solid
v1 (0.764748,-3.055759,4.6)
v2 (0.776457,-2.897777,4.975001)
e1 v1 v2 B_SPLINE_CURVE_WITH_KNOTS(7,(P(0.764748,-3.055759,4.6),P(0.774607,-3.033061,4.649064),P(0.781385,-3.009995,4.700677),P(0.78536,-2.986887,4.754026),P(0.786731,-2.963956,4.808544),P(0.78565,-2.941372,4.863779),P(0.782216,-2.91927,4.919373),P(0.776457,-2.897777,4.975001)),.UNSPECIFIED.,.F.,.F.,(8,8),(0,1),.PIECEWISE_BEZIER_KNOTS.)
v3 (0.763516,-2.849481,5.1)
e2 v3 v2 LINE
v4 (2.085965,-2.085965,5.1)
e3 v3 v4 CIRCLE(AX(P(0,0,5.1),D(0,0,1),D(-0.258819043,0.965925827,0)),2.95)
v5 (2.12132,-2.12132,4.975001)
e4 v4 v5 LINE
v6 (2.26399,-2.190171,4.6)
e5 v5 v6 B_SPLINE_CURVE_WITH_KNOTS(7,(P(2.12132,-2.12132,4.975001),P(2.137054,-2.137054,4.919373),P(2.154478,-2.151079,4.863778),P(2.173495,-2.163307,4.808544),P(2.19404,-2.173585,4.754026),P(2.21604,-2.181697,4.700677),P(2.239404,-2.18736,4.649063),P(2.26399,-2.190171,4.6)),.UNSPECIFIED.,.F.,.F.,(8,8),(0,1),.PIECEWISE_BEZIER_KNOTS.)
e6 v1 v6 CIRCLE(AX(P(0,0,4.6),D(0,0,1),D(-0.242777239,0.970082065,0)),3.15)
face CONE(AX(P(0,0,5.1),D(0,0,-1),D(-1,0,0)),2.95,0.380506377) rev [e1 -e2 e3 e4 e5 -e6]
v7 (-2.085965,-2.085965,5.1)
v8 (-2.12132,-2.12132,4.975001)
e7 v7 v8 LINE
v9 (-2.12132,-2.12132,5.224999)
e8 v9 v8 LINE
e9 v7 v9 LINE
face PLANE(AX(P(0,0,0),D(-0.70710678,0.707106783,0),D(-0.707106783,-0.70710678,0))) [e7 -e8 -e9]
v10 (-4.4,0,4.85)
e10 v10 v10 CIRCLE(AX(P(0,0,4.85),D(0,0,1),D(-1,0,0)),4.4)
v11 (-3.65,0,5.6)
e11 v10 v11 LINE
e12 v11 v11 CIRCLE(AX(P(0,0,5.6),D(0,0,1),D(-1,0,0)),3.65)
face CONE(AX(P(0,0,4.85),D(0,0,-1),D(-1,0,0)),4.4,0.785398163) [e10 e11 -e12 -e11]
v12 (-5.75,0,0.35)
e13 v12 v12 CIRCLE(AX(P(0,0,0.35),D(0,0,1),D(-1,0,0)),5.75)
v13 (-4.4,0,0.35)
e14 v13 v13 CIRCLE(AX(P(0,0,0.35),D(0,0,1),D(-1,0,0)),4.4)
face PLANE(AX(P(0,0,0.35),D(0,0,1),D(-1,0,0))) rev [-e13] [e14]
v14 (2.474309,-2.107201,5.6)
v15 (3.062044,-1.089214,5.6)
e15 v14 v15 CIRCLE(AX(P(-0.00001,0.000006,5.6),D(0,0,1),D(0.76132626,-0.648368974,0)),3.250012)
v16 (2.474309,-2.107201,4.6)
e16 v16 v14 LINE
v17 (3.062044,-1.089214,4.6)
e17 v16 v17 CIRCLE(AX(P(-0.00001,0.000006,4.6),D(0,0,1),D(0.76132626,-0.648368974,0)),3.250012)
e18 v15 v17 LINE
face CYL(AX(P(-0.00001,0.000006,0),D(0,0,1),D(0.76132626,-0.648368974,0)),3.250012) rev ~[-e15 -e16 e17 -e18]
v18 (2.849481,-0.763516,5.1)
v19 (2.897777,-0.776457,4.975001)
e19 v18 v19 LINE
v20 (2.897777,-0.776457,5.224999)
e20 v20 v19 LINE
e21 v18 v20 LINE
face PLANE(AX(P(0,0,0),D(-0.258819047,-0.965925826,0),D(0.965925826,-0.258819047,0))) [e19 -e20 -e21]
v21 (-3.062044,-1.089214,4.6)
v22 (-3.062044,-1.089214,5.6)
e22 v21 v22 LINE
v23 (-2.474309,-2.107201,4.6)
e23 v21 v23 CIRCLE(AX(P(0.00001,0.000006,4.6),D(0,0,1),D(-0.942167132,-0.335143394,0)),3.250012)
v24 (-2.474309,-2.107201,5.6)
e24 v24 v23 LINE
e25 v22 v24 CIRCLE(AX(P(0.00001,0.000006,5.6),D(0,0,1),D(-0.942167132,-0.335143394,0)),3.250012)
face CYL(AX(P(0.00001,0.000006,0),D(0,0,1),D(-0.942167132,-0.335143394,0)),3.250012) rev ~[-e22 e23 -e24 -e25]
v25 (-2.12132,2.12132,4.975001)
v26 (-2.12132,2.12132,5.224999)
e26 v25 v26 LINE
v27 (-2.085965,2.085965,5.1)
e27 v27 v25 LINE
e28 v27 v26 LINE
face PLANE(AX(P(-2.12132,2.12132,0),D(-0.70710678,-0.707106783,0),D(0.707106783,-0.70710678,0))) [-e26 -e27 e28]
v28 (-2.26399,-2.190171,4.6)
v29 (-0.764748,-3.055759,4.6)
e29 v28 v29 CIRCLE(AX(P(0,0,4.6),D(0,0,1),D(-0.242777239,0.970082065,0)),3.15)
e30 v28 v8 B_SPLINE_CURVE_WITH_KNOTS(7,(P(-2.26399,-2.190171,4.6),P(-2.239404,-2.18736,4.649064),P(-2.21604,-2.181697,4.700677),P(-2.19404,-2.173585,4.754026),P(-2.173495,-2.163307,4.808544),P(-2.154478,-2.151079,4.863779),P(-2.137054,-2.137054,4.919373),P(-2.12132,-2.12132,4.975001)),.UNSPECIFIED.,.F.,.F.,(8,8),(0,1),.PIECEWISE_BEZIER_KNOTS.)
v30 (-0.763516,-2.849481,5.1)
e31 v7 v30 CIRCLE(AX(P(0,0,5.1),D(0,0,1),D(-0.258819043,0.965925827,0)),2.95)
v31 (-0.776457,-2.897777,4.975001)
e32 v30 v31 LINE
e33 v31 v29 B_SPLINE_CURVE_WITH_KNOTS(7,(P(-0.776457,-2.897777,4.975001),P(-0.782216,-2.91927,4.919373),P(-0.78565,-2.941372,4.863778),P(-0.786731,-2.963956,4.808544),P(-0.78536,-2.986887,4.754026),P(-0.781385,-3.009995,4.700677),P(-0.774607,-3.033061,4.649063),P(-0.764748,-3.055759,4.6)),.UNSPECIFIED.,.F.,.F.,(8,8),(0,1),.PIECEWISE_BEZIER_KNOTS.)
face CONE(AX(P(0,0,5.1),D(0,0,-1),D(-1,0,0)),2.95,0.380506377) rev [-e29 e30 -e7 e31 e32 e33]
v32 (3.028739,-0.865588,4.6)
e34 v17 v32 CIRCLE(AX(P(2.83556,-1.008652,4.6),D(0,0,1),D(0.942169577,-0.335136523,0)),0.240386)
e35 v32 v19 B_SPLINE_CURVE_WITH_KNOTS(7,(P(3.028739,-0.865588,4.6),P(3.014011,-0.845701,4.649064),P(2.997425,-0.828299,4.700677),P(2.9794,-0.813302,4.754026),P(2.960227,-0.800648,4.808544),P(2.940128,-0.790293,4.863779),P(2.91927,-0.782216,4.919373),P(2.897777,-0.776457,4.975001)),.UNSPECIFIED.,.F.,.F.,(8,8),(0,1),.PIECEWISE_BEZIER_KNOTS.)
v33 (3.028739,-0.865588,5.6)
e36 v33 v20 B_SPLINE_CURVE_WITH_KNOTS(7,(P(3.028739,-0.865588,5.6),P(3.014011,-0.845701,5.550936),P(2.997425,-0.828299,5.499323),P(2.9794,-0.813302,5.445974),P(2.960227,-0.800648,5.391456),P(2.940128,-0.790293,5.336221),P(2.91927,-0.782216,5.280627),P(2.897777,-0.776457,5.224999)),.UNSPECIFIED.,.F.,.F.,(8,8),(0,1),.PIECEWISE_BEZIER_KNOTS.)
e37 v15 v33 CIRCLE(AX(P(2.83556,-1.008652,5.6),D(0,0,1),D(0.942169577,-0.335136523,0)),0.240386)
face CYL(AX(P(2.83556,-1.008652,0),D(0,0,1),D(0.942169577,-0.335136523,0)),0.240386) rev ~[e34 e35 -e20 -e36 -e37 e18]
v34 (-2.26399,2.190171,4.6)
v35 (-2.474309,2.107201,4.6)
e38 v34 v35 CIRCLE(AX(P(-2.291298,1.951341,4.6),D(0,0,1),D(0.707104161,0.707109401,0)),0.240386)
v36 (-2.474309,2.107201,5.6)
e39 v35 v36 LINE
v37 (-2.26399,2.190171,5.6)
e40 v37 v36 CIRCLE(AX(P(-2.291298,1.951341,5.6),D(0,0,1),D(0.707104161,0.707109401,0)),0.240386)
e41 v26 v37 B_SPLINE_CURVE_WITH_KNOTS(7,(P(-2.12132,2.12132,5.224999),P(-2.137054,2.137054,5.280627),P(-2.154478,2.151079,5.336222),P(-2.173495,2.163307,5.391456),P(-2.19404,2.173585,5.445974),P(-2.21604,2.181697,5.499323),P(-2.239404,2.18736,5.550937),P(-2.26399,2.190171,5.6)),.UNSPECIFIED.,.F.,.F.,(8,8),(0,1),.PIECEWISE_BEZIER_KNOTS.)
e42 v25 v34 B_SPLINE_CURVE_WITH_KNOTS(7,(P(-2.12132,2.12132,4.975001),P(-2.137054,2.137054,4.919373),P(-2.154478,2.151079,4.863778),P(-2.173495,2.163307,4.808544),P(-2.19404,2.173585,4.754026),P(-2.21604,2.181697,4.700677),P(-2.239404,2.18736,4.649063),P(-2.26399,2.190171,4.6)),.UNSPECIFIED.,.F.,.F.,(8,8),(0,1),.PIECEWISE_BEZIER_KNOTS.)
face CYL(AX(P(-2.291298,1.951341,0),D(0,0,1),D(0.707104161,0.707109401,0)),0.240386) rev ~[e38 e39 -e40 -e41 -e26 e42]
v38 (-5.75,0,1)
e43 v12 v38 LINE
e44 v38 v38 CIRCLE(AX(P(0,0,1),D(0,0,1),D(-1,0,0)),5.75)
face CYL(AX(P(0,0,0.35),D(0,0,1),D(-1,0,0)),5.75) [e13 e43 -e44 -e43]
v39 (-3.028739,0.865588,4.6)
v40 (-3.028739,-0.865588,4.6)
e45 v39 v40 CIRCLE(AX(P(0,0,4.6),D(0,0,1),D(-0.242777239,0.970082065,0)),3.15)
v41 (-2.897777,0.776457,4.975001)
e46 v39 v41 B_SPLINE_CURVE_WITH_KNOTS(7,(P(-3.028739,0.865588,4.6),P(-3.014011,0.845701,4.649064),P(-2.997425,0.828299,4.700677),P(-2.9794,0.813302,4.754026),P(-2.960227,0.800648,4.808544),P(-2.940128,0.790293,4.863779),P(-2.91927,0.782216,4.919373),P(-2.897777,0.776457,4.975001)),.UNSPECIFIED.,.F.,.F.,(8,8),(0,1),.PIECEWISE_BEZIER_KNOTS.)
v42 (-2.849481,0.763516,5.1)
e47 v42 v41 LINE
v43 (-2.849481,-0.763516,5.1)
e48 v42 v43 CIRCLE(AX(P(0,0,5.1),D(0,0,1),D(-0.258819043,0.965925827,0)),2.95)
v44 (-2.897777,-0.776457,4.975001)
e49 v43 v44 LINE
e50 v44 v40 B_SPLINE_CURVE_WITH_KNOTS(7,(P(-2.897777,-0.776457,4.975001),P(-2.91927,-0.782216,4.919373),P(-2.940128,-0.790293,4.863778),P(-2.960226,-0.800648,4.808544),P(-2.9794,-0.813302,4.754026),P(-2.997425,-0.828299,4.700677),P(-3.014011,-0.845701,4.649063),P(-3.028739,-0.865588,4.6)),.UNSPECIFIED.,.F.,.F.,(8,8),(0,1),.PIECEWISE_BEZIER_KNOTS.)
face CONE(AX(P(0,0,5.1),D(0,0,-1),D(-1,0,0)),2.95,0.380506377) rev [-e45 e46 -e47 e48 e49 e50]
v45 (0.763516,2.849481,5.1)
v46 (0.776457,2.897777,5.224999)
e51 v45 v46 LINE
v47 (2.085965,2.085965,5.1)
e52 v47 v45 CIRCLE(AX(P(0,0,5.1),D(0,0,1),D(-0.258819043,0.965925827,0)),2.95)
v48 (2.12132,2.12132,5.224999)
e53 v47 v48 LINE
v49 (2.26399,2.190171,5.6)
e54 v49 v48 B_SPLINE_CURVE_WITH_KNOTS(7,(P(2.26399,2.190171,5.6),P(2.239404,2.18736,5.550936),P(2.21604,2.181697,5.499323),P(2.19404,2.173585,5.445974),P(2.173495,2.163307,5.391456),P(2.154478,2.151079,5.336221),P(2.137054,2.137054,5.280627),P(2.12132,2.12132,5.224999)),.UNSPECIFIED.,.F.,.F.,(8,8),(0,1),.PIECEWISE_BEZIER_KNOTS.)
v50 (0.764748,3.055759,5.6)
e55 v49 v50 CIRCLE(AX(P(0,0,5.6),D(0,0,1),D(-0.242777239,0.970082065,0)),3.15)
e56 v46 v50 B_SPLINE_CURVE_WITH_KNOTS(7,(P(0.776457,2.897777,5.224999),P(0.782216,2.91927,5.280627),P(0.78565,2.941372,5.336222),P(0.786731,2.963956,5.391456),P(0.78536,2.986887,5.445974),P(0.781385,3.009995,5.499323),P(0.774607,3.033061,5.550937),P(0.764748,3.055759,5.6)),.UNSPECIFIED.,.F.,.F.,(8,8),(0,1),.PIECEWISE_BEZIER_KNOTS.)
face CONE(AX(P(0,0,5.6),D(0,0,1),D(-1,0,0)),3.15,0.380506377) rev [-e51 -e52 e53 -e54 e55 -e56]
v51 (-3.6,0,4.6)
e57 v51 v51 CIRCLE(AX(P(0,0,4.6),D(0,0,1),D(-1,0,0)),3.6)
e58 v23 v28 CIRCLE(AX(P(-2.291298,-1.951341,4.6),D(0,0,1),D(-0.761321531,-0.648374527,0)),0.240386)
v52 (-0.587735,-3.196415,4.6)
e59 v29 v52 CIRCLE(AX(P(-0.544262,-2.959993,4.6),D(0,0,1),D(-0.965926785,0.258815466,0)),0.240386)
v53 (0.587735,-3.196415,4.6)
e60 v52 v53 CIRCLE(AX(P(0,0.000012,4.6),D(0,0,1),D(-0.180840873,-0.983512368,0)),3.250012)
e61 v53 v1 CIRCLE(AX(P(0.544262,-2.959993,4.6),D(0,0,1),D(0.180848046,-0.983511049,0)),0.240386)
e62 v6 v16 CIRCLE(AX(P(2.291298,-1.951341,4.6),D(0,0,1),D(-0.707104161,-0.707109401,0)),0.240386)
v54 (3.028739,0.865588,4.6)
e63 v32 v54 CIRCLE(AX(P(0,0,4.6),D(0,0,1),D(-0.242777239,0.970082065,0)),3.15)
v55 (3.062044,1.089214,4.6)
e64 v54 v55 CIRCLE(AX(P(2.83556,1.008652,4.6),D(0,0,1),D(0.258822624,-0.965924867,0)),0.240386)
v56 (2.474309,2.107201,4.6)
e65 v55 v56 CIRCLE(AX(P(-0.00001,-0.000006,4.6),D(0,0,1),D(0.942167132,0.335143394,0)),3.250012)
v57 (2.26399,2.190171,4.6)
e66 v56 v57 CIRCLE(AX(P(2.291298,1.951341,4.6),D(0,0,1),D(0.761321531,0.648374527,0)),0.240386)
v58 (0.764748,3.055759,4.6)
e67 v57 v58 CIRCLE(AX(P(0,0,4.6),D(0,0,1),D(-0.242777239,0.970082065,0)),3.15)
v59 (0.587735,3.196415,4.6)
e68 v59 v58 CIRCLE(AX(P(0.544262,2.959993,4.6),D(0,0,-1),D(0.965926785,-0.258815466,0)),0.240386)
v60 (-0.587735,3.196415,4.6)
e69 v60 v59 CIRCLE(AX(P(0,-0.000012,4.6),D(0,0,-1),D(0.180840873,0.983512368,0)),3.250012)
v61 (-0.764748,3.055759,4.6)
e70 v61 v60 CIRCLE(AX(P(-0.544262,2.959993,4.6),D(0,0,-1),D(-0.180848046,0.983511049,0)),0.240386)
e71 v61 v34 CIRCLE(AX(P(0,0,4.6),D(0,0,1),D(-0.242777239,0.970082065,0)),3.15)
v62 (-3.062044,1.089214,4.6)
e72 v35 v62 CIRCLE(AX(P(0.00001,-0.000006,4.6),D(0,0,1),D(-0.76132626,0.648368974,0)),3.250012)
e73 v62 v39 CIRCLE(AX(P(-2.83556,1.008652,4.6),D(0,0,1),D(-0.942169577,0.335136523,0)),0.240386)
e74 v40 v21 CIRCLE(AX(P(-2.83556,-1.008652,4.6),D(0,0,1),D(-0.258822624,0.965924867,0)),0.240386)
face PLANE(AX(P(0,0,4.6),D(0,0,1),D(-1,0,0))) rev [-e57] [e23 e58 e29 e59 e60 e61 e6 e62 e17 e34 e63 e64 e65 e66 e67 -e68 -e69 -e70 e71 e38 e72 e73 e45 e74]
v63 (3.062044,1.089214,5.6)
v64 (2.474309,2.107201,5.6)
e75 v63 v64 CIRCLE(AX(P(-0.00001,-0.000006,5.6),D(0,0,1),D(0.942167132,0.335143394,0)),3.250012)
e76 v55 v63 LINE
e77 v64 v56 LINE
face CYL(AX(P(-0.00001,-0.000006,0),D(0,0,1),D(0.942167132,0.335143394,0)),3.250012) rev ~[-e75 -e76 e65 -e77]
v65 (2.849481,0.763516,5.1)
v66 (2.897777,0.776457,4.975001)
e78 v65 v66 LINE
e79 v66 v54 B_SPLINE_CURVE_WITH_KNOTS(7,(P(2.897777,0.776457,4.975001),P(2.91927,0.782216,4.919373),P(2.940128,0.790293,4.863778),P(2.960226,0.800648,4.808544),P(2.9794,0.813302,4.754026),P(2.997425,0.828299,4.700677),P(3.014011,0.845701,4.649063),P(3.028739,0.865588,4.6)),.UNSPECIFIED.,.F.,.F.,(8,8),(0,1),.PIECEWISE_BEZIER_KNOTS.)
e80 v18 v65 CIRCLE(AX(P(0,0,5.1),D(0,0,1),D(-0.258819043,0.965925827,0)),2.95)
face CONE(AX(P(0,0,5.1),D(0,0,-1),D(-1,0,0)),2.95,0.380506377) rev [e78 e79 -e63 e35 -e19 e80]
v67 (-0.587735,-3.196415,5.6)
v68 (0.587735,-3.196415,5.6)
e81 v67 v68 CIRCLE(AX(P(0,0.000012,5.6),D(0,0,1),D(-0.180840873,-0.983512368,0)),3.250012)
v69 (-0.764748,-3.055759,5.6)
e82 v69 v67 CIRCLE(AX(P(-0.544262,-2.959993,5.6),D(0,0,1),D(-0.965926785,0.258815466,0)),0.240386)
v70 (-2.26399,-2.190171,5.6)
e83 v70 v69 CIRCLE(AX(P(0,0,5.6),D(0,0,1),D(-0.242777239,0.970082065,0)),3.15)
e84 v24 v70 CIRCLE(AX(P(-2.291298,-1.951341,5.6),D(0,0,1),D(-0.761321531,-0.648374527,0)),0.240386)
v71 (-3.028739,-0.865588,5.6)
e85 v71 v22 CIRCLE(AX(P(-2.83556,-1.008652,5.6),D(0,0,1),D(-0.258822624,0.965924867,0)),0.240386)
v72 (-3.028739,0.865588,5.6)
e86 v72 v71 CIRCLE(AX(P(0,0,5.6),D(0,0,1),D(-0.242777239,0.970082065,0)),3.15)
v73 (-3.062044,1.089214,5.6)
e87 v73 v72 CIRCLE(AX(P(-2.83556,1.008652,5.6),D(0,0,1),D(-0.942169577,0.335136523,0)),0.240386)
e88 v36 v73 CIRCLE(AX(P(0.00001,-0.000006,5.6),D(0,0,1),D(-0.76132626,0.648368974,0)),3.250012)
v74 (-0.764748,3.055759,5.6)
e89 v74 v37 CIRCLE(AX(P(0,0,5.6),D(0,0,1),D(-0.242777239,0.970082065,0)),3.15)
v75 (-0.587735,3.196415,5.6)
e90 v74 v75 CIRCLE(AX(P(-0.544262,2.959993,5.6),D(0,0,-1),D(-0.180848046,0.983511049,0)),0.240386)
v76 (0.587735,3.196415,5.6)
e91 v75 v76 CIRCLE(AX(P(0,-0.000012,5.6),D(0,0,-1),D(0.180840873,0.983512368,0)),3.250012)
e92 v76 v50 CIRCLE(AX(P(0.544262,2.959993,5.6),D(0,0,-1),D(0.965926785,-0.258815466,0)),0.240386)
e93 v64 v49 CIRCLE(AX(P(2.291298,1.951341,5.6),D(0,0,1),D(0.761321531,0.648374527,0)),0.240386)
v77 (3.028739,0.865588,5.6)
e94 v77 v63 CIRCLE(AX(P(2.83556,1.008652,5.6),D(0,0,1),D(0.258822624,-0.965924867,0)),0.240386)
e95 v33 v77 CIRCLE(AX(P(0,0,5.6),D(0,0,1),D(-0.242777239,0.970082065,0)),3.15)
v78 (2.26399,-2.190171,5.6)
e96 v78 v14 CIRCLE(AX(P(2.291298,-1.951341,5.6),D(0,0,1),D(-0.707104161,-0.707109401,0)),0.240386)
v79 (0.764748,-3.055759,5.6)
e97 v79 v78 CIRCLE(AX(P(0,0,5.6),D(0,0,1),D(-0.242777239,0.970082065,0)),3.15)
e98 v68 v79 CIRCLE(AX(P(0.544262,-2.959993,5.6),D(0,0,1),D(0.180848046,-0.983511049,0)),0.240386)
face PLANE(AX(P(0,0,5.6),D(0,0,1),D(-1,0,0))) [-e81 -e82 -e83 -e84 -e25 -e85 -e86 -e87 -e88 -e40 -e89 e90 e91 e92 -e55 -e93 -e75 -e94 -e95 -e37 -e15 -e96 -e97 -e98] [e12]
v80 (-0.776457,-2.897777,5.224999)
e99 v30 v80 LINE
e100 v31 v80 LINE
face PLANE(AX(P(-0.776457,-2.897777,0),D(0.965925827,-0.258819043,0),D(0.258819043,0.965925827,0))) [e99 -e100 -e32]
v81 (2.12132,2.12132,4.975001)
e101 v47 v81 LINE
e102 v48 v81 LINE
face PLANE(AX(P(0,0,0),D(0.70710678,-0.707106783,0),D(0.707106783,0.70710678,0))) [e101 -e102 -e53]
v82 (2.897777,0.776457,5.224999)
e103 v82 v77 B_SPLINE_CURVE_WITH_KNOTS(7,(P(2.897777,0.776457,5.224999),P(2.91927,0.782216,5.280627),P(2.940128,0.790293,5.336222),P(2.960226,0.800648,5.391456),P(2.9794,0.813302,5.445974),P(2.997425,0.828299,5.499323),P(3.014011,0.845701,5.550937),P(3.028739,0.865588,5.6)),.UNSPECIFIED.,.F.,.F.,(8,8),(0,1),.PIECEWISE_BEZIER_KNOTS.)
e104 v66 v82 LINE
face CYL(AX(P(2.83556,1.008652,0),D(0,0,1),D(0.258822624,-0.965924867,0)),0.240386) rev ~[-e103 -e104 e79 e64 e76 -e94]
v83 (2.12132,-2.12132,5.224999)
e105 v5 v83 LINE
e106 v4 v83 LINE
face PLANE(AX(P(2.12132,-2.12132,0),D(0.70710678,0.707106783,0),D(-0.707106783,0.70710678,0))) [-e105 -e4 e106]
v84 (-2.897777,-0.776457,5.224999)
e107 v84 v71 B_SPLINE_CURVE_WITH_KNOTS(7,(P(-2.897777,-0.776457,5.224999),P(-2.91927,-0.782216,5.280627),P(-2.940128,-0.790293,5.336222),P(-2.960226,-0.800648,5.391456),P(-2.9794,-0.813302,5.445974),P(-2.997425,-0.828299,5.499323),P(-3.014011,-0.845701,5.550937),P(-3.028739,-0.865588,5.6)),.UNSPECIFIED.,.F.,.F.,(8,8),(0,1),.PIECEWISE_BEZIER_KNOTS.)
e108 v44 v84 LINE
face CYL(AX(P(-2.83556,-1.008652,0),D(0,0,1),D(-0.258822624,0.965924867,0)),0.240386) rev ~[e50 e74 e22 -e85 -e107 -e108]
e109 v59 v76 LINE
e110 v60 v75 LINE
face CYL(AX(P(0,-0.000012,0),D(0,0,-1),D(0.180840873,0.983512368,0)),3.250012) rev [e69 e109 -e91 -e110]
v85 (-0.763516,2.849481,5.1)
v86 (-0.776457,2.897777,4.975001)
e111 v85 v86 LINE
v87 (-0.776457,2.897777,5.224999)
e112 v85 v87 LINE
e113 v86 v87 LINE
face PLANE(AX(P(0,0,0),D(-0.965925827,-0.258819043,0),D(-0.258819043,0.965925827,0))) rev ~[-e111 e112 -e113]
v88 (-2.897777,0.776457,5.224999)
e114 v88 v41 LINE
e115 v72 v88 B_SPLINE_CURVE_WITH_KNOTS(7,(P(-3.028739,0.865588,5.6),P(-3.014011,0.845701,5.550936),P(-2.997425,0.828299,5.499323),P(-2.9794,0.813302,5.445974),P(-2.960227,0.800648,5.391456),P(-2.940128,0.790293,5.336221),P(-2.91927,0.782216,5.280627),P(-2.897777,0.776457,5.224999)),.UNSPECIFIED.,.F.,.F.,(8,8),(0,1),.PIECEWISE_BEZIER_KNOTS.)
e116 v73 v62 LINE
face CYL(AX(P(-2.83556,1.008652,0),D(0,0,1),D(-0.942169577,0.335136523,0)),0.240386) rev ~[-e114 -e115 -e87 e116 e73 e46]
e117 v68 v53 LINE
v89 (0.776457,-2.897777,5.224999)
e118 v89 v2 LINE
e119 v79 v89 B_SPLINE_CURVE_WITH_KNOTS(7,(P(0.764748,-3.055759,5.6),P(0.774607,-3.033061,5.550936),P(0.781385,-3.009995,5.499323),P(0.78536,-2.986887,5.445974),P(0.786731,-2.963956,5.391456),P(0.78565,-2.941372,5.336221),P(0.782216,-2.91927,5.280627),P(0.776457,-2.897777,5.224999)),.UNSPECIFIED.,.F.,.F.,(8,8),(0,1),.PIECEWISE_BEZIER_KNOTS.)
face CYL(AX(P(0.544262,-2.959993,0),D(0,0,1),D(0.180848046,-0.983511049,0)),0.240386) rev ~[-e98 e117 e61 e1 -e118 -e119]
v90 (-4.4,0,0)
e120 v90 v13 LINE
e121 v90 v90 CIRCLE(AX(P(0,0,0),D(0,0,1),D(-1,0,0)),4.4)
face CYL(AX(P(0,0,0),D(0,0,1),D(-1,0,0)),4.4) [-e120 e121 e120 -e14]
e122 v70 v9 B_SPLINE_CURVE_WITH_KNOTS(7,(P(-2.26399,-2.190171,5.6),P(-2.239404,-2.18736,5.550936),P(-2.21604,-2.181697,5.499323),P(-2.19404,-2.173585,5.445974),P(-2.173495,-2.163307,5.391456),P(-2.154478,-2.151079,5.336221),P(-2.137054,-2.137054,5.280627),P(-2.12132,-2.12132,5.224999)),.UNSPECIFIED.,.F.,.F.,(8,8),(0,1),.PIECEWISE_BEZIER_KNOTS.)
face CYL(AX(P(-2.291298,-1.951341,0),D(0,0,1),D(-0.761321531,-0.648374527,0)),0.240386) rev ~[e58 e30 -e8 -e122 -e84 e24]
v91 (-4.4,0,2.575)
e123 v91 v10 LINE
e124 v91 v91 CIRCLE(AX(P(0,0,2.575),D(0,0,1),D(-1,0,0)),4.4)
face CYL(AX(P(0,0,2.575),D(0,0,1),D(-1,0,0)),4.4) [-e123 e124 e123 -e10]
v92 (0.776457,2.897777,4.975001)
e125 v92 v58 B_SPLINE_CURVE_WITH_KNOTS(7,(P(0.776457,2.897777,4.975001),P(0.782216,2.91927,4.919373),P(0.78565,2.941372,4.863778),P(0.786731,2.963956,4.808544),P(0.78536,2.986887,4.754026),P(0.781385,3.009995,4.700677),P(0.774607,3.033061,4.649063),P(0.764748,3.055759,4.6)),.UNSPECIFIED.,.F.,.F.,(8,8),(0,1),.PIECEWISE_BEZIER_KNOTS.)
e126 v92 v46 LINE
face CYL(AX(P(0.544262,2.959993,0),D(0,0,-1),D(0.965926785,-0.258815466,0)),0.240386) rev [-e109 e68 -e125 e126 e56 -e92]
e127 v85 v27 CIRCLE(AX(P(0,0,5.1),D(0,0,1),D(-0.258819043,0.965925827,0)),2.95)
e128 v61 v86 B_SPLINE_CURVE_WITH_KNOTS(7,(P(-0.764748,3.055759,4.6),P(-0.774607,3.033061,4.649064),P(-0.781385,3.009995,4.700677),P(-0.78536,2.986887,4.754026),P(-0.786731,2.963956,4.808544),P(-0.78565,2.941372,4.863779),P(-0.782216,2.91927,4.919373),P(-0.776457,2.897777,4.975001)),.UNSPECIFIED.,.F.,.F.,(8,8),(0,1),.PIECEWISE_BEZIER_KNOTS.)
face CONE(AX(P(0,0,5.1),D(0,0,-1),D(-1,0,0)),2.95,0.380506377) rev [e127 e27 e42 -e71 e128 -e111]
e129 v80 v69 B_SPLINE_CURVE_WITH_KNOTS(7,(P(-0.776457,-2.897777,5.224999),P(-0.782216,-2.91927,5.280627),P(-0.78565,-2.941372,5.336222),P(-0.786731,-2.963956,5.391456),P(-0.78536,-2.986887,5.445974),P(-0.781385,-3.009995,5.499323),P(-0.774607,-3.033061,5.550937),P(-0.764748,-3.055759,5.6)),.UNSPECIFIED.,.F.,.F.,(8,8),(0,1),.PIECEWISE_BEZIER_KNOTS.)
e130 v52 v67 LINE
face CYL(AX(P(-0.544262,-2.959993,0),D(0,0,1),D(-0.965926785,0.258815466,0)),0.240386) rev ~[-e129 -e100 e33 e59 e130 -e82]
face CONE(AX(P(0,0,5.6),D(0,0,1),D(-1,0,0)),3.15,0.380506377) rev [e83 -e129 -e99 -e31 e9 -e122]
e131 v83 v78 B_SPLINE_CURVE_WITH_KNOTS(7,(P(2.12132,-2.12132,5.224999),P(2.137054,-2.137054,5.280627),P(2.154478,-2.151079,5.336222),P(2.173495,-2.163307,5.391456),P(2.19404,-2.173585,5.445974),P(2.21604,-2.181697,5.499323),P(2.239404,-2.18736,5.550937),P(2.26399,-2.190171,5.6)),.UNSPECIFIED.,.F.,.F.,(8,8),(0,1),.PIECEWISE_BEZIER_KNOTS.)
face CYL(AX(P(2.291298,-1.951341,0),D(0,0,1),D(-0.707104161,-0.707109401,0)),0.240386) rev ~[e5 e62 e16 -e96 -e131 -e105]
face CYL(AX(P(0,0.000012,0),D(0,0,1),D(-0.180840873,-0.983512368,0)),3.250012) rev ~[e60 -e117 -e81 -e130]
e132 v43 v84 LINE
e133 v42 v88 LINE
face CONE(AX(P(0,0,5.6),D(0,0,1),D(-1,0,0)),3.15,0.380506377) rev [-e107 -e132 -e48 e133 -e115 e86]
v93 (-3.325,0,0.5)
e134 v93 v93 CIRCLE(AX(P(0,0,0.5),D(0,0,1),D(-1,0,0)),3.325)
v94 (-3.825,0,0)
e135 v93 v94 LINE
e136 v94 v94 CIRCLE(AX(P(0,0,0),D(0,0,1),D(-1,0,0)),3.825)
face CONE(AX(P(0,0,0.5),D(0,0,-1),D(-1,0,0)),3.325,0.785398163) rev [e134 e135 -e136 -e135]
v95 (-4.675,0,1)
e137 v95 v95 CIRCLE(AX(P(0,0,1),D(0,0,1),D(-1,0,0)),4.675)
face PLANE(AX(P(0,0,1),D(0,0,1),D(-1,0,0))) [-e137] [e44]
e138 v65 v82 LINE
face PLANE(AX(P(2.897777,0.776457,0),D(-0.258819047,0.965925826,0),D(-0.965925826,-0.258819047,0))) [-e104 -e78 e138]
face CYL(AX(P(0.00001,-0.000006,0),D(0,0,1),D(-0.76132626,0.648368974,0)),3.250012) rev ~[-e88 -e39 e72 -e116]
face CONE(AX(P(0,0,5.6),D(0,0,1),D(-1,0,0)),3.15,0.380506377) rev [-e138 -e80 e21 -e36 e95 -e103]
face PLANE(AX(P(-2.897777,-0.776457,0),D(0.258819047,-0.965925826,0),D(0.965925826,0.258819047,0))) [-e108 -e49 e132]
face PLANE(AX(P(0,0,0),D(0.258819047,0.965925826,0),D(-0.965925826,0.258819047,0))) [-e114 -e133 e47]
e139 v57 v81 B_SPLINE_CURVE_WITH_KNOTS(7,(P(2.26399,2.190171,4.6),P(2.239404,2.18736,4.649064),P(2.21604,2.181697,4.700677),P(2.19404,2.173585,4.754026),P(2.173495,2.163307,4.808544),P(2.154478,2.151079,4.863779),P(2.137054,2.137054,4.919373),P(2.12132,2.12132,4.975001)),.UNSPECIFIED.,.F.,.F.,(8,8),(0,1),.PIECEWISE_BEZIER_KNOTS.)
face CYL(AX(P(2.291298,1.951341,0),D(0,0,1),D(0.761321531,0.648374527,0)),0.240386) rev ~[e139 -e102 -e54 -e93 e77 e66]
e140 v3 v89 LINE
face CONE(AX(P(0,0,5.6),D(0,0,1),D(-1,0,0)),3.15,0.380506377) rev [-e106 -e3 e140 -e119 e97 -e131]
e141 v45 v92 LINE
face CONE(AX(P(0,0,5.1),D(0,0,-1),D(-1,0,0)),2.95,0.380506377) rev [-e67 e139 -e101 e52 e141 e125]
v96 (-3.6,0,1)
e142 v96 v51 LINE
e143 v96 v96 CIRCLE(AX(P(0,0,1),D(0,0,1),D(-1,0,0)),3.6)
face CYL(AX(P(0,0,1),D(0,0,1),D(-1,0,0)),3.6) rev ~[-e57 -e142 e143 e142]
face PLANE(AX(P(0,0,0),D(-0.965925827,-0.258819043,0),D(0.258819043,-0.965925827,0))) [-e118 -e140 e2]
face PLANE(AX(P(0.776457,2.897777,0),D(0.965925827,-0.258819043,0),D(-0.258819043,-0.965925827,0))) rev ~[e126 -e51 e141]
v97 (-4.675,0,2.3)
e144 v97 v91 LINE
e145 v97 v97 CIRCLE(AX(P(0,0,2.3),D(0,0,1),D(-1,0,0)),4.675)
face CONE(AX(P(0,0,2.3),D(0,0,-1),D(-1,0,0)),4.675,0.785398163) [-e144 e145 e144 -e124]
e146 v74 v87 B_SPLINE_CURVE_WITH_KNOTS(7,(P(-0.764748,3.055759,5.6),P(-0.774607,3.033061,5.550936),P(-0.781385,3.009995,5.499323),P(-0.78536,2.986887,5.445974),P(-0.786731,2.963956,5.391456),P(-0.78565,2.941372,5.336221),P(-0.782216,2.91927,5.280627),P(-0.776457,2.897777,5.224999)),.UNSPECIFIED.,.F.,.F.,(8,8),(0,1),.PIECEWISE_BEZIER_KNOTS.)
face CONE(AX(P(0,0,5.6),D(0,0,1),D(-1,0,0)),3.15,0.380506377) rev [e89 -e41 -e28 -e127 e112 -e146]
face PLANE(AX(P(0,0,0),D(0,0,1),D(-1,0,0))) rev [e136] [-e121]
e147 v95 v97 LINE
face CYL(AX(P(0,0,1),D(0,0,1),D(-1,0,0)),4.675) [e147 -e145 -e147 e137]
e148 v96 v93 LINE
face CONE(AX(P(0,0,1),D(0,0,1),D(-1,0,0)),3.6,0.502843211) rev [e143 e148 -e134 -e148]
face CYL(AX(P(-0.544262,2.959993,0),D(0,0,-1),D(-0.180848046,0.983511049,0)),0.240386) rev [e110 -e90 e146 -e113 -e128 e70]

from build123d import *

# Parameters (mm, degrees)
POCKET_DEPTH       = 34.402163
POCKET_DEPTH_BACK  = 40.002163
POLARPATTERN_COUNT = 6


with BuildPart() as part:
    # Sketch → Revolution (revolve)
    with BuildSketch(Plane.XZ):
        Polygon((-3.6, 4.6), (-3.6, 3.5), (-3.6, 2.5), (-3.6, 1), (-3.325, 0.5), (-3.825, 0), (-4.4, 0), (-4.4, 0.35), (-5.75, 0.35), (-5.75, 1), (-4.675, 1), (-4.675, 2.3), (-4.4, 2.575), (-4.4, 4.85), (-3.65, 5.6), (-3.15, 5.6), (-2.95, 5.1), (-3.15, 4.6), align=None)
    revolve(axis=Axis((0, 0, 0), (0, 0, 1)))

    # Sketch001 → Pocket (cut, two sides)
    with BuildSketch(Plane.XY) as pocket_sk:
        with BuildLine():
            Line((0, 0), (-0.776457, 2.897777))
            ThreePointArc((-0.587735, 3.196415), (-0.747472, 3.08841), (-0.776457, 2.897777))
            ThreePointArc((0.587735, 3.196415), (0, 3.25), (-0.587735, 3.196415))
            ThreePointArc((0.776457, 2.897777), (0.747472, 3.08841), (0.587735, 3.196415))
            Line((0.776457, 2.897777), (0, 0))
        make_face()
    pocket = extrude(amount=-POCKET_DEPTH, mode=Mode.SUBTRACT) + extrude(pocket_sk.sketch, amount=POCKET_DEPTH_BACK, mode=Mode.SUBTRACT)

    # PolarPattern: Pocket ×6 about axis
    polarpattern_axis = Axis((0, 0, 0), (0, 0, 1))
    for i in range(1, POLARPATTERN_COUNT):
        add(pocket.rotate(polarpattern_axis, i * 360 / POLARPATTERN_COUNT), mode=Mode.SUBTRACT)


solid = part.part
